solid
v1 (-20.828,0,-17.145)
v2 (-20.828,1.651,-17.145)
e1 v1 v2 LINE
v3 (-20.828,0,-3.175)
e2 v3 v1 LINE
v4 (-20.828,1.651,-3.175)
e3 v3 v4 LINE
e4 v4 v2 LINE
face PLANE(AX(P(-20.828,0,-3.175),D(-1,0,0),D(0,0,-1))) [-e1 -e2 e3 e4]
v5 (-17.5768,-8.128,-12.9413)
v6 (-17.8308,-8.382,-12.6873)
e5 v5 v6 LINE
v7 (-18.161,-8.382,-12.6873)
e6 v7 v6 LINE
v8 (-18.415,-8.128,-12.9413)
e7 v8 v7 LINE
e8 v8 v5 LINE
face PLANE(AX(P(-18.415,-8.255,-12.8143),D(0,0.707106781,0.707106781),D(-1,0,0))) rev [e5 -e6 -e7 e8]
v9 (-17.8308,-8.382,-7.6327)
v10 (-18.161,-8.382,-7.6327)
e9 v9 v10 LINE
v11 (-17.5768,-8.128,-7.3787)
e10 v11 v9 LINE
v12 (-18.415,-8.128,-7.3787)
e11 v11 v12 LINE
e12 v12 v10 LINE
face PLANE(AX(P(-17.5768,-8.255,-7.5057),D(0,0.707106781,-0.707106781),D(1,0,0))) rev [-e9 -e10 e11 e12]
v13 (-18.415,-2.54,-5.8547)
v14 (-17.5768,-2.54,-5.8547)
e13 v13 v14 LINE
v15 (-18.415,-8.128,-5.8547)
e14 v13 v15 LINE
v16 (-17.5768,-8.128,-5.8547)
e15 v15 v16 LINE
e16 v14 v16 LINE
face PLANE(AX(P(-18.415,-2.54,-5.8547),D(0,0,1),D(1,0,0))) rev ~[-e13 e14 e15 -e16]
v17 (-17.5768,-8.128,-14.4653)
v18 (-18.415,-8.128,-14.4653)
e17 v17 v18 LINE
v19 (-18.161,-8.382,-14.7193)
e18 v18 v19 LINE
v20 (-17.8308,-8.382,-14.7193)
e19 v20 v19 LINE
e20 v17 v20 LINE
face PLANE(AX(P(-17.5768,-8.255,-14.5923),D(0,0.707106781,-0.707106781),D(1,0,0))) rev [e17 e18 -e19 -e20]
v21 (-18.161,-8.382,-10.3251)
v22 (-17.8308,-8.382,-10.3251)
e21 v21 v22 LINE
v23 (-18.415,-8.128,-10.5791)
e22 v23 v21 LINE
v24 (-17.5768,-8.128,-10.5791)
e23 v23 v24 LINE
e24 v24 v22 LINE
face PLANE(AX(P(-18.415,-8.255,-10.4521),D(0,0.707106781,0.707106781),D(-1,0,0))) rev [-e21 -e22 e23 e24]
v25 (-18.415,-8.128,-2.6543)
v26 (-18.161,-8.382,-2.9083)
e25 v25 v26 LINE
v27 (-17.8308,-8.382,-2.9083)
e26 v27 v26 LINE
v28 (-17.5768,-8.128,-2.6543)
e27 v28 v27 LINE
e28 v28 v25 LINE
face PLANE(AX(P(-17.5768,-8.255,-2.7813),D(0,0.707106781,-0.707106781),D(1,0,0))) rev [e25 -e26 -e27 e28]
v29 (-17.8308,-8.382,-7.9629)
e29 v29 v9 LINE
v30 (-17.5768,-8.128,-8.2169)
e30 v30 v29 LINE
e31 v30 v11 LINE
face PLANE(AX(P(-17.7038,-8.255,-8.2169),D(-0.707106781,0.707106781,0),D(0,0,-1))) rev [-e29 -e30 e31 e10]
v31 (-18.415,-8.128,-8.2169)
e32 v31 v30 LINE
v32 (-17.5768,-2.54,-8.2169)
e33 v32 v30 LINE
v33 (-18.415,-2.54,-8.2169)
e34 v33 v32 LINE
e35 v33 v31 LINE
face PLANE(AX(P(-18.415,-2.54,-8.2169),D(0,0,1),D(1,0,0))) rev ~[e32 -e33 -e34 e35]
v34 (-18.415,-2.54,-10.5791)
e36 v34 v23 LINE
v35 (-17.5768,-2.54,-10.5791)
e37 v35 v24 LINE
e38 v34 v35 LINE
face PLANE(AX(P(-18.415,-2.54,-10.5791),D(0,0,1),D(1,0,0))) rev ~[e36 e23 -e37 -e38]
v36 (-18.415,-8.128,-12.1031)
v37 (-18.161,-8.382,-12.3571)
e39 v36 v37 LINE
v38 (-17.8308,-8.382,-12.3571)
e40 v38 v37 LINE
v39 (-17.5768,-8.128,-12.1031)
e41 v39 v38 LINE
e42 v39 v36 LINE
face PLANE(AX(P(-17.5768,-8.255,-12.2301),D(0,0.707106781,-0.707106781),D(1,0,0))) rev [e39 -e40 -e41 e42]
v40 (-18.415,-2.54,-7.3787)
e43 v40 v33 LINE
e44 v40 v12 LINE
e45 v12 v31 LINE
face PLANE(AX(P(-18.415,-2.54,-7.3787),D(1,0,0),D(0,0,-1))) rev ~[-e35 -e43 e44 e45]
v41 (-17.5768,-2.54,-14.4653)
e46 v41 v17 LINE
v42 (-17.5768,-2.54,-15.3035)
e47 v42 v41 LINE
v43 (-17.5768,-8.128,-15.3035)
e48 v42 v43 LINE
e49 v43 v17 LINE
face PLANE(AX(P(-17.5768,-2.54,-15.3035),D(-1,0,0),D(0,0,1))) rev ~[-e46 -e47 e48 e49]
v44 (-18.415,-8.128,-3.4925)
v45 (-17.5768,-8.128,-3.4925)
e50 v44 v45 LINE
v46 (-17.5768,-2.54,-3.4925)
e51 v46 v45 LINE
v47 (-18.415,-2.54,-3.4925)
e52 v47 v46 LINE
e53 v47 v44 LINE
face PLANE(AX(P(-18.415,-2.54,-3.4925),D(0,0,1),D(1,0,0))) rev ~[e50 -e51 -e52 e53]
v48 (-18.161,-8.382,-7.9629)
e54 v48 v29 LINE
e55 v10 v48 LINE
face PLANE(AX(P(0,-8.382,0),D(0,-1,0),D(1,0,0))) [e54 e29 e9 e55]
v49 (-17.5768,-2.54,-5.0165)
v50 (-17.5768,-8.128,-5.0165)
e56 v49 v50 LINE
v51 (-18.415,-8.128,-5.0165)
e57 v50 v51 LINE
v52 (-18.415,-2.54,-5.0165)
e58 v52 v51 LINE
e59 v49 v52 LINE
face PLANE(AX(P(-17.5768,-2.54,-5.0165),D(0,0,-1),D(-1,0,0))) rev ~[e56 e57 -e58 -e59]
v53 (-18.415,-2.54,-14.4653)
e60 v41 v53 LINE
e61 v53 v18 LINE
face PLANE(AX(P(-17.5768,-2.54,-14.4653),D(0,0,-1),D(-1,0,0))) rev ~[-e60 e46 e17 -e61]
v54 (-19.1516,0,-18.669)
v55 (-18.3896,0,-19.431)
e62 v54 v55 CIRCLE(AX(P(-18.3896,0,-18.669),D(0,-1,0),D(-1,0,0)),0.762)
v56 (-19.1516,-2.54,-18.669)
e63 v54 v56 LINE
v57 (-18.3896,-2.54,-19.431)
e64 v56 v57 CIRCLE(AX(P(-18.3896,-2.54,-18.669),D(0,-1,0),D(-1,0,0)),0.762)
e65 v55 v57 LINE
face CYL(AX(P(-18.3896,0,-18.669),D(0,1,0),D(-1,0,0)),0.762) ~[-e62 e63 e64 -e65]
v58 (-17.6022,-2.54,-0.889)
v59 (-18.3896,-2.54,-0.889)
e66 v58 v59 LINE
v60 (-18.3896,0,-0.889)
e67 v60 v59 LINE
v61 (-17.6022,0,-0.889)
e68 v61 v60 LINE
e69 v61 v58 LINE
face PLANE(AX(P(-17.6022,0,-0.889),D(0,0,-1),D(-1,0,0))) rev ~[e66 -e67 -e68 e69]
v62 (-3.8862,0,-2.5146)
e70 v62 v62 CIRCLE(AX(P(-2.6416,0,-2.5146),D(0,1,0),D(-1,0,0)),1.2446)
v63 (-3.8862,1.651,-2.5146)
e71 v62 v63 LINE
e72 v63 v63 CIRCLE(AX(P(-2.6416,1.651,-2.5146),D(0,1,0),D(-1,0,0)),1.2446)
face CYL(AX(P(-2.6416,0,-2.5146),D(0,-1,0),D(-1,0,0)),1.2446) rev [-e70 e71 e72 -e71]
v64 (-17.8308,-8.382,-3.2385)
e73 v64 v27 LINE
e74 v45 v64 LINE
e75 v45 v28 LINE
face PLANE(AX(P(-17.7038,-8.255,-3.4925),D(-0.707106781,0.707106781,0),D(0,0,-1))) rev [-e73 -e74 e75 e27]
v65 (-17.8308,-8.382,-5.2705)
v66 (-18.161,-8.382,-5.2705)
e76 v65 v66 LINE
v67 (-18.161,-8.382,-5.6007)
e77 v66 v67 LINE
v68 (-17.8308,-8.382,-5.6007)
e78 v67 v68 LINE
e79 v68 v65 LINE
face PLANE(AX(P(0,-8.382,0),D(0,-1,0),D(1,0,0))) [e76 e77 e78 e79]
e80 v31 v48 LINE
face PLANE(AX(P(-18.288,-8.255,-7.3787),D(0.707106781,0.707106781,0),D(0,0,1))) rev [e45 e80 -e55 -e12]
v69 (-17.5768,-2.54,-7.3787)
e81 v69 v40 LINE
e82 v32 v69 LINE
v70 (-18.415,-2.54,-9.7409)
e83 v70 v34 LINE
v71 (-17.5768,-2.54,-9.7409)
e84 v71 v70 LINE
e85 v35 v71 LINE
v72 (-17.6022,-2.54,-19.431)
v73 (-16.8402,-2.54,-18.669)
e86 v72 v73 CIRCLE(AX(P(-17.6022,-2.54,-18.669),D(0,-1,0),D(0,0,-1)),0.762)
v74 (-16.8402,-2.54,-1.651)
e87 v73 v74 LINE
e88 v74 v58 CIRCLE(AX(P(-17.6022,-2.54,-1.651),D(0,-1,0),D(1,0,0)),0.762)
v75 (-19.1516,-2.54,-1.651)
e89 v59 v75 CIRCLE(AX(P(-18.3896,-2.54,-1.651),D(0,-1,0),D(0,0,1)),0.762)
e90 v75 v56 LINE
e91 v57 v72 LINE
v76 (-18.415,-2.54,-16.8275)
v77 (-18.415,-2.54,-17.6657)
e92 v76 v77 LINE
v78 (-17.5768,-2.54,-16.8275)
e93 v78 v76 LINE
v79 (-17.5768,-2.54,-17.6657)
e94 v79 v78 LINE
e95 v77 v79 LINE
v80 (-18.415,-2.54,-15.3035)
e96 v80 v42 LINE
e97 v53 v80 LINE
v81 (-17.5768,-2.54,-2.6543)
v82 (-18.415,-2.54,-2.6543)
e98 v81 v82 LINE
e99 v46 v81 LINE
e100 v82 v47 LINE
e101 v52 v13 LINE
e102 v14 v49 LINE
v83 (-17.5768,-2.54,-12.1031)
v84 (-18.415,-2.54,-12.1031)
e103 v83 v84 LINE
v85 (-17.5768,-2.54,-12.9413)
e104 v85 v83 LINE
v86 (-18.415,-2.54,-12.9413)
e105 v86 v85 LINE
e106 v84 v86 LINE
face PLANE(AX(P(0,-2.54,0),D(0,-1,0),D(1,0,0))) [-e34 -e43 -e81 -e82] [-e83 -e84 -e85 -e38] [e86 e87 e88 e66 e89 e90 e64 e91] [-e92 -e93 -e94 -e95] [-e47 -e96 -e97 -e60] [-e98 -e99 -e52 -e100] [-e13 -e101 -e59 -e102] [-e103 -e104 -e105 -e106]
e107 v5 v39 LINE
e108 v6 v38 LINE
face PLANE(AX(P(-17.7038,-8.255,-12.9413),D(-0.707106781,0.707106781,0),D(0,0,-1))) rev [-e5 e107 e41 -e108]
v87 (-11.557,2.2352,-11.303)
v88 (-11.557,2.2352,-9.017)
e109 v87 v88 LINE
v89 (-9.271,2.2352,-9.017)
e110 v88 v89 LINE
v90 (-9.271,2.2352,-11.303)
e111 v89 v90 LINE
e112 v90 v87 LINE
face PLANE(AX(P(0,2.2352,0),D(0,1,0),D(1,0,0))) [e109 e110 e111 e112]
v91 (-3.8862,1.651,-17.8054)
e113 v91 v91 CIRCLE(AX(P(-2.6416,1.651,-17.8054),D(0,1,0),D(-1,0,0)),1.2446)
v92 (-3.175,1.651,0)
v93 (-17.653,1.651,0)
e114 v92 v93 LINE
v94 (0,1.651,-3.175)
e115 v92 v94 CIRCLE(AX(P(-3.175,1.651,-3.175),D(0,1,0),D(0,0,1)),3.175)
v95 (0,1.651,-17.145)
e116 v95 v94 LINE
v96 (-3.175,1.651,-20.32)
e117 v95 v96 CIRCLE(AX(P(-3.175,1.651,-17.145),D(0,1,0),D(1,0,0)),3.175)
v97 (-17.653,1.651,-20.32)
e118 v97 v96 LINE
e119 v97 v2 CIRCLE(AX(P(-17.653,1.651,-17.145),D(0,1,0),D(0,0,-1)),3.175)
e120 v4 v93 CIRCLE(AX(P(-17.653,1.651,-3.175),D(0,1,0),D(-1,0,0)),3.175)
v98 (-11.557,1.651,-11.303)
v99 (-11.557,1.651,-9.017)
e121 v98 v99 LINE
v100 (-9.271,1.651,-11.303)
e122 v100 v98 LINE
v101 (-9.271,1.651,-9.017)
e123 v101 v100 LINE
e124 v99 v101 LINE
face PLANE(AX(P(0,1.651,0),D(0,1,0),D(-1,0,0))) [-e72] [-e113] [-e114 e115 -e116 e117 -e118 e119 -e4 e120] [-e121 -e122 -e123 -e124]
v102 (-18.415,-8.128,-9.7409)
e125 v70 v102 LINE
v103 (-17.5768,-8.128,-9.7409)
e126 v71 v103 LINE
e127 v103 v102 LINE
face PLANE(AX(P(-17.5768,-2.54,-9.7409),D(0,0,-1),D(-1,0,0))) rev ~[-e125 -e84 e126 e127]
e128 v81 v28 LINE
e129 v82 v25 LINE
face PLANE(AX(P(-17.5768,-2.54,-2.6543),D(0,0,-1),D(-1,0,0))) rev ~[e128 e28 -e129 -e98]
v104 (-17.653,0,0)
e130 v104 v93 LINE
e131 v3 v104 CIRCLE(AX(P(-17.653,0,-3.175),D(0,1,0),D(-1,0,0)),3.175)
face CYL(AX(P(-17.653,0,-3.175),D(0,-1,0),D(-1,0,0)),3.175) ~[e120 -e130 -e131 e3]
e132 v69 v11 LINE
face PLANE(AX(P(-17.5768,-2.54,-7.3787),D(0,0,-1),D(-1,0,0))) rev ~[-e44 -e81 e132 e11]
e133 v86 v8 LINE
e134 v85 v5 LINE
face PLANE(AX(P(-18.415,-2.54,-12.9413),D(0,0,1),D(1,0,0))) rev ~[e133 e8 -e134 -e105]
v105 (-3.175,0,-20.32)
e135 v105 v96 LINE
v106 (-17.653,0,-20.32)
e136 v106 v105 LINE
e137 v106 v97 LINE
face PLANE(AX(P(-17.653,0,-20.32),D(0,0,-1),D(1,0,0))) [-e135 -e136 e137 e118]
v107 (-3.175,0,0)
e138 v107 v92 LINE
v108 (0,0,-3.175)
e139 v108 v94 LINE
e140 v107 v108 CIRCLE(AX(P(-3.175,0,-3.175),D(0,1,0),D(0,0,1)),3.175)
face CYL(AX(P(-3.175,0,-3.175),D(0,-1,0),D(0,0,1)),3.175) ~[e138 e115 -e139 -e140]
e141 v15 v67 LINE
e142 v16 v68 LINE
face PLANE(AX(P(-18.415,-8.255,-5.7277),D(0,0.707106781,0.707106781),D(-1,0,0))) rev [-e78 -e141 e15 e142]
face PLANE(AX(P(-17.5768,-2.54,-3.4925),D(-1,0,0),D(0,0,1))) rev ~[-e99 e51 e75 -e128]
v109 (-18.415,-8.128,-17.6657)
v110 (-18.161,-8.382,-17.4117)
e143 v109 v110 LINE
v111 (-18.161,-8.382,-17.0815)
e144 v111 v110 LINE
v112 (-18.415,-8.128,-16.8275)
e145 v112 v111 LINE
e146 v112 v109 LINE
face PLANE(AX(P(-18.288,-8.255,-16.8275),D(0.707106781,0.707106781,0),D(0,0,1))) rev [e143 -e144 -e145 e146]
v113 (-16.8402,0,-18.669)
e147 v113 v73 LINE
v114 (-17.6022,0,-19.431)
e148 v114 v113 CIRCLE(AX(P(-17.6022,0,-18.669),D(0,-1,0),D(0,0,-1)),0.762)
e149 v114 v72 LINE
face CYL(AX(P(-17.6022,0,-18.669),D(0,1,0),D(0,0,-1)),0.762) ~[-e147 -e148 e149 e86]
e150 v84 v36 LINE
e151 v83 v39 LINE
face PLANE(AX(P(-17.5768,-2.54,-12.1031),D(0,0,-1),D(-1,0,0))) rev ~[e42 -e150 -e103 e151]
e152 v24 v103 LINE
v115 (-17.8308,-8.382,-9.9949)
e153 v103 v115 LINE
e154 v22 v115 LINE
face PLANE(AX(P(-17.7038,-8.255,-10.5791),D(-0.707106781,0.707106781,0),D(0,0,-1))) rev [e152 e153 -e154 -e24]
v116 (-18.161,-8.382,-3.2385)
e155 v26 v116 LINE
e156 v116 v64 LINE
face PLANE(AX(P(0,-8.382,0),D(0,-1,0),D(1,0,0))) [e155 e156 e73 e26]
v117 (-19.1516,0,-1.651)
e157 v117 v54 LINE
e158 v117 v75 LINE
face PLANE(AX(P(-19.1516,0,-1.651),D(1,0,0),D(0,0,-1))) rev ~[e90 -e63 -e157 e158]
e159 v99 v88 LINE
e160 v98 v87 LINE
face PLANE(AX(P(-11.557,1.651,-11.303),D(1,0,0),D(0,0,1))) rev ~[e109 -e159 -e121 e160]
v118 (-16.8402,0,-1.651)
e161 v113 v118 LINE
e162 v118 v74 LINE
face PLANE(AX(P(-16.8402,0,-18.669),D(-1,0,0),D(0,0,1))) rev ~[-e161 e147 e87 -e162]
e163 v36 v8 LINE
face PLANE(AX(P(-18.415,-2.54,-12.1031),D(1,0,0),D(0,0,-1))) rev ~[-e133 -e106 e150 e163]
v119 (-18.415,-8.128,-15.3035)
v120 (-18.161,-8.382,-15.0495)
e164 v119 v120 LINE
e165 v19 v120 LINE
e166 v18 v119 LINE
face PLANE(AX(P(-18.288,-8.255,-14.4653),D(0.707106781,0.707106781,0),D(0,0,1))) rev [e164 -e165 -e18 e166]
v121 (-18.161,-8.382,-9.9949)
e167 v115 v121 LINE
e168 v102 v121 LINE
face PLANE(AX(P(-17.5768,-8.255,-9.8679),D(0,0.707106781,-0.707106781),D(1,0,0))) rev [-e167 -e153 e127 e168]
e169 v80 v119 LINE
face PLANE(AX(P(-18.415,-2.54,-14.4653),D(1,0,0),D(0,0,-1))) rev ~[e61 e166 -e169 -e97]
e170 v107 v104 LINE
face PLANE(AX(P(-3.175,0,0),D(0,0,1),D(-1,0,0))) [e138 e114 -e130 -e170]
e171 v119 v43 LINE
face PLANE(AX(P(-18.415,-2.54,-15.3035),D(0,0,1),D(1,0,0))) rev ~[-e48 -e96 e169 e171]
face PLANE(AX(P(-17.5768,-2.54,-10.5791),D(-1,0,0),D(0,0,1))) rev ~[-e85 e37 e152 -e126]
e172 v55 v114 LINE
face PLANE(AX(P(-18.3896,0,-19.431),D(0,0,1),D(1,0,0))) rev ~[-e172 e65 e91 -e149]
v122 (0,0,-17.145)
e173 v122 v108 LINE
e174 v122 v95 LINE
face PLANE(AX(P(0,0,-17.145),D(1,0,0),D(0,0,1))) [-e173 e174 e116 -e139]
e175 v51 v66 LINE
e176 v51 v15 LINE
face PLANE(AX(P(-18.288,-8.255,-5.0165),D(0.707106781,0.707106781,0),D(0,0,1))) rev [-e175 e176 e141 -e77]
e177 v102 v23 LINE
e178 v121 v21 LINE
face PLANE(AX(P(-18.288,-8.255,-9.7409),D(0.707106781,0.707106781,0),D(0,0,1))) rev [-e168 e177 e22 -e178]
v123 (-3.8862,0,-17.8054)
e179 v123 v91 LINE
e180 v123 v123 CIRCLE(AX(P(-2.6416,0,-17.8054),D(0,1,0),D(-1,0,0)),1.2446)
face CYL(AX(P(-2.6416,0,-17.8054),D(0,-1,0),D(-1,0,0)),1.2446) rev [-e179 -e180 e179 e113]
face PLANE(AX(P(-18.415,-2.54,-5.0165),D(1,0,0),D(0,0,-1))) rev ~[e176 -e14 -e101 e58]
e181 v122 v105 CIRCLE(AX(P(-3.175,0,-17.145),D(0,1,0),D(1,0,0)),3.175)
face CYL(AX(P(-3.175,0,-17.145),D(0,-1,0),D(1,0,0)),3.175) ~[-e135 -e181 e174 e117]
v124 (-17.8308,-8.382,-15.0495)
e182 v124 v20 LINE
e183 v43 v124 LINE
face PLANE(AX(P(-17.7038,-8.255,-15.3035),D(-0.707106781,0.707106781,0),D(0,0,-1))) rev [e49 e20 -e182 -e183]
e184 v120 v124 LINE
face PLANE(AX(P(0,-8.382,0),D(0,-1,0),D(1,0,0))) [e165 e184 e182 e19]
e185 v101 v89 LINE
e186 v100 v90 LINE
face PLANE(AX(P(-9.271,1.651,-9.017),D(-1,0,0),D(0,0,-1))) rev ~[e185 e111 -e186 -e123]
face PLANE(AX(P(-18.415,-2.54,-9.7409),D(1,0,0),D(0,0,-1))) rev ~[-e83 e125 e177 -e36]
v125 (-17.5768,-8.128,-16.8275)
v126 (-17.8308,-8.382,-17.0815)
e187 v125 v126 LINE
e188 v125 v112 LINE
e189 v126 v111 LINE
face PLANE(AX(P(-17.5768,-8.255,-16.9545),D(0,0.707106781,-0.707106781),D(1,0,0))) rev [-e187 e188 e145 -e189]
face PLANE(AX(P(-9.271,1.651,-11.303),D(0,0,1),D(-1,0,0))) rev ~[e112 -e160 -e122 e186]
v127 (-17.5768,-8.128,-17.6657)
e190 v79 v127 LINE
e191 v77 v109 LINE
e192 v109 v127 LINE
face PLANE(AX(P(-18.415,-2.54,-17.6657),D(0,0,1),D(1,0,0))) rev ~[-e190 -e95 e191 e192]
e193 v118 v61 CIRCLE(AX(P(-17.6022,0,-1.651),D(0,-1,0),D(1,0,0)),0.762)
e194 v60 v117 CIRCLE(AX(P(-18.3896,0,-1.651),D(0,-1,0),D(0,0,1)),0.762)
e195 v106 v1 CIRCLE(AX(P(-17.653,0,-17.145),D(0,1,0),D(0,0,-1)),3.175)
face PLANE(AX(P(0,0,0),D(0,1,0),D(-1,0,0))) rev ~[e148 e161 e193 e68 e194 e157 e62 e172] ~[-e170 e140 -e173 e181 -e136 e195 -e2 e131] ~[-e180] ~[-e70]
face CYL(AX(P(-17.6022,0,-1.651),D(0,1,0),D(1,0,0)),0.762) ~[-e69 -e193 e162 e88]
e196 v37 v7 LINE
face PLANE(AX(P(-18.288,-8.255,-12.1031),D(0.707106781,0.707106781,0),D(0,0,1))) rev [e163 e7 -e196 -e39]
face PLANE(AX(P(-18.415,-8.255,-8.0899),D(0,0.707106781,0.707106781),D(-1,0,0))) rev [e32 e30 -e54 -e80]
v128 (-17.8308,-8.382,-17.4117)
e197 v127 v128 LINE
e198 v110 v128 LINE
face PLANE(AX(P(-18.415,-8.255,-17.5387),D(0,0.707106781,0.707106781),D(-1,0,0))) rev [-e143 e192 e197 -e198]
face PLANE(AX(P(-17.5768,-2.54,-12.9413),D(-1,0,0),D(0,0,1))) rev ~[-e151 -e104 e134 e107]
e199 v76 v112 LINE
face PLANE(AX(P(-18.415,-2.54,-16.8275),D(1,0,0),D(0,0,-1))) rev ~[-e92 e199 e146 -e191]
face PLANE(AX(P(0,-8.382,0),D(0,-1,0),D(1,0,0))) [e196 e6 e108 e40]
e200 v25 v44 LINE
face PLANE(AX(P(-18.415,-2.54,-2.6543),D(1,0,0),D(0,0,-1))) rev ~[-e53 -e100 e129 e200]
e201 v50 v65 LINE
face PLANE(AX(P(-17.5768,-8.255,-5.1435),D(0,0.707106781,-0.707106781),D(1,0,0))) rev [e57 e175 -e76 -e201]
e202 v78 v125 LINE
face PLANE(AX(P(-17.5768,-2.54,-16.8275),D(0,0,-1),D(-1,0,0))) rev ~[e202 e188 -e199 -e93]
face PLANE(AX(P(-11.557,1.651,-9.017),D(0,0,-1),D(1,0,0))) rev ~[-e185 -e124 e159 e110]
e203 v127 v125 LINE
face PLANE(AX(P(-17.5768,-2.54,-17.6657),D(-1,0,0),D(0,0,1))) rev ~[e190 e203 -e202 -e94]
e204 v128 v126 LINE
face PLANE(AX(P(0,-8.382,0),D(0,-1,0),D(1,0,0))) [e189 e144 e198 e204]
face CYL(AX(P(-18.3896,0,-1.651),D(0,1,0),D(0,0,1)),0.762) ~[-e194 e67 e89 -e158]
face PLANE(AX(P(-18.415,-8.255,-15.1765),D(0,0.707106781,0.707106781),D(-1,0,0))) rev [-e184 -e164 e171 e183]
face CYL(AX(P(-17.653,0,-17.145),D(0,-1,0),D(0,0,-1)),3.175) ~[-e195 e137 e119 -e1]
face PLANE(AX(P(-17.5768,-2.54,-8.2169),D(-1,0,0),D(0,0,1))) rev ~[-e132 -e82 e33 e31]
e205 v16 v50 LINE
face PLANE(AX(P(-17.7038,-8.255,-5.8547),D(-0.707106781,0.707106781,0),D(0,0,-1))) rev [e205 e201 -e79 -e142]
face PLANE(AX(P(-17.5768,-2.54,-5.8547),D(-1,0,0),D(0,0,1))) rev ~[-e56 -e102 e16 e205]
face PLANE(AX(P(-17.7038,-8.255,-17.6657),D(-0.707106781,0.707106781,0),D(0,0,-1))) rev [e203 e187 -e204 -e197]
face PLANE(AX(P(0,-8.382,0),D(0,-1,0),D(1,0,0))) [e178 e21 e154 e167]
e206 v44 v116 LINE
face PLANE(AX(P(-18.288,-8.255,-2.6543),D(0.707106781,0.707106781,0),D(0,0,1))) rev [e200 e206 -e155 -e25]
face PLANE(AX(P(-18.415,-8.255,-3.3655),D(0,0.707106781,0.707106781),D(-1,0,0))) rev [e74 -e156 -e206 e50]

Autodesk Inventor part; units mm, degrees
ref_plane "YZ Plane" through (0, 0, 0) normal (1, 0, 0) x (0, 1, 0)
ref_plane "XZ Plane" through (0, 0, 0) normal (0, 1, 0) x (-1, 0, 0)
ref_plane "XY Plane" through (0, 0, 0) normal (0, 0, 1) x (1, 0, 0)
sketch "Sketch1" plane through (0, 0, 0) normal (0, 1, 0) x (-1, 0, 0)
  line L0 (3.175, 0) -> (17.653, 0)
  line L1 (20.828, -3.175) -> (20.828, -17.145)
  line L2 (17.653, -20.32) -> (3.175, -20.32)
  line L3 (0, -17.145) -> (0, -3.175)
  circle A0 centre (2.6416, -2.5146) radius 1.2446
  circle A1 centre (2.6416, -17.8054) radius 1.2446
  line L4 (1.397, -2.5146) -> (0, -2.5146) construction
  line L5 (2.6416, -1.27) -> (2.6416, 0) construction
  line L6 (1.397, -17.8054) -> (0, -17.8054) construction
  line L7 (2.6416, -19.05) -> (2.6416, -20.32) construction
  arc A2 (0, -17.145) -> (3.175, -20.32) centre (3.175, -17.145) ccw
  arc A3 (3.175, 0) -> (0, -3.175) centre (3.175, -3.175) ccw
  arc A4 (20.828, -3.175) -> (17.653, 0) centre (17.653, -3.175) ccw
  arc A5 (17.653, -20.32) -> (20.828, -17.145) centre (17.653, -17.145) ccw
  point P0 (0, 0)
  point P1 (20.828, -20.32)
  point P2 (20.828, 0)
  point P3 (0, -20.32)
  dimension "d0" = 20.32
  dimension "d1" = 20.828
  dimension "d2" = 2.4892
  dimension "d3" = 2.4892
  dimension "d4" = 1.397
  dimension "d5" = 1.27
  dimension "d6" = 1.27
  dimension "d7" = 1.397
  dimension "d8" = 3.175
extrude "Extrusion1" add sketch "Sketch1" along normal blind 1.651
sketch "Sketch2" plane through (0, 1.651, 0) normal (0, 1, 0) x (1, 0, 0)
  line L0 (-11.557, 9.017) -> (-9.271, 9.017)
  line L1 (-9.271, 9.017) -> (-9.271, 11.303)
  line L2 (-9.271, 11.303) -> (-11.557, 11.303)
  line L3 (-11.557, 11.303) -> (-11.557, 9.017)
  line L4 (-11.557, 10.16) -> (-9.271, 10.16) construction
  line L5 (-10.414, 9.017) -> (-10.414, 11.303) construction
  line L6 (-3.175, 20.32) -> (-17.653, 20.32) projected
  line L7 (-20.828, 17.145) -> (-20.828, 3.175) projected
  point P0 (0, 0)
  point P1 (-10.414, 20.32)
  point P2 (-20.828, 10.16)
  dimension "d11" = 2.286
  dimension "d12" = 2.286
extrude "Extrusion2" add sketch "Sketch2" along normal blind 0.5842
sketch "Sketch3" plane through (0, 0, 0) normal (0, -1, 0) x (1, 0, 0)
  line L0 (-18.3896, -19.431) -> (-17.6022, -19.431)
  line L1 (-16.8402, -18.669) -> (-16.8402, -1.651)
  line L2 (-17.6022, -0.889) -> (-18.3896, -0.889)
  line L3 (-19.1516, -1.651) -> (-19.1516, -18.669)
  line L4 (-17.653, -20.32) -> (-3.175, -20.32) projected
  line L5 (-3.175, 0) -> (-17.653, 0) projected
  line L6 (-20.828, -3.175) -> (-20.828, -17.145) projected
  arc A0 (-19.1516, -18.669) -> (-18.3896, -19.431) centre (-18.3896, -18.669) ccw
  arc A1 (-18.3896, -0.889) -> (-19.1516, -1.651) centre (-18.3896, -1.651) ccw
  arc A2 (-16.8402, -1.651) -> (-17.6022, -0.889) centre (-17.6022, -1.651) ccw
  arc A3 (-17.6022, -19.431) -> (-16.8402, -18.669) centre (-17.6022, -18.669) ccw
  point P0 (0, 0)
  dimension "d15" = 0.889
  dimension "d16" = 0.889
  dimension "d17" = 3.9878
  dimension "d18" = 1.6764
  dimension "d19" = 0.762
extrude "Extrusion3" add sketch "Sketch3" along normal blind 2.54
sketch "Sketch4" plane through (0, -2.54, 0) normal (0, -1, 0) x (1, 0, 0)
  line L0 (-18.415, -17.6657) -> (-17.5768, -17.6657)
  line L1 (-17.5768, -17.6657) -> (-17.5768, -16.8275)
  line L2 (-17.5768, -16.8275) -> (-18.415, -16.8275)
  line L3 (-18.415, -16.8275) -> (-18.415, -17.6657)
  line L4 (-17.9959, -17.6657) -> (-17.9959, -16.8275) construction
  line L5 (-18.3896, -19.431) -> (-17.6022, -19.431) projected
  line L6 (-18.415, -15.3035) -> (-17.5768, -15.3035)
  line L7 (-17.5768, -15.3035) -> (-17.5768, -14.4653)
  line L8 (-17.5768, -14.4653) -> (-18.415, -14.4653)
  line L9 (-18.415, -14.4653) -> (-18.415, -15.3035)
  line L10 (-17.9959, -15.3035) -> (-17.9959, -14.4653) construction
  line L11 (-18.415, -12.9413) -> (-17.5768, -12.9413)
  line L12 (-17.5768, -12.9413) -> (-17.5768, -12.1031)
  line L13 (-17.5768, -12.1031) -> (-18.415, -12.1031)
  line L14 (-18.415, -12.1031) -> (-18.415, -12.9413)
  line L15 (-17.9959, -12.9413) -> (-17.9959, -12.1031) construction
  line L16 (-18.415, -10.5791) -> (-17.5768, -10.5791)
  line L17 (-17.5768, -10.5791) -> (-17.5768, -9.7409)
  line L18 (-17.5768, -9.7409) -> (-18.415, -9.7409)
  line L19 (-18.415, -9.7409) -> (-18.415, -10.5791)
  line L20 (-17.9959, -10.5791) -> (-17.9959, -9.7409) construction
  line L21 (-18.415, -8.2169) -> (-17.5768, -8.2169)
  line L22 (-17.5768, -8.2169) -> (-17.5768, -7.3787)
  line L23 (-17.5768, -7.3787) -> (-18.415, -7.3787)
  line L24 (-18.415, -7.3787) -> (-18.415, -8.2169)
  line L25 (-17.9959, -8.2169) -> (-17.9959, -7.3787) construction
  line L26 (-18.415, -5.8547) -> (-17.5768, -5.8547)
  line L27 (-17.5768, -5.8547) -> (-17.5768, -5.0165)
  line L28 (-17.5768, -5.0165) -> (-18.415, -5.0165)
  line L29 (-18.415, -5.0165) -> (-18.415, -5.8547)
  line L30 (-17.9959, -5.8547) -> (-17.9959, -5.0165) construction
  line L31 (-18.415, -3.4925) -> (-17.5768, -3.4925)
  line L32 (-17.5768, -3.4925) -> (-17.5768, -2.6543)
  line L33 (-17.5768, -2.6543) -> (-18.415, -2.6543)
  line L34 (-18.415, -2.6543) -> (-18.415, -3.4925)
  line L35 (-17.9959, -3.4925) -> (-17.9959, -2.6543) construction
  line L36 (-18.415, -10.16) -> (-17.5768, -10.16) construction
  line L37 (-19.1516, -1.651) -> (-19.1516, -18.669) projected
  point P0 (0, 0)
  point P1 (-17.9959, -19.431)
  point P2 (-17.9959, -17.0688)
  point P3 (-17.9959, -14.7066)
  point P4 (-17.9959, -12.3444)
  point P5 (-17.9959, -9.9822)
  point P6 (-17.9959, -7.62)
  point P7 (-17.9959, -5.2578)
  point P8 (-19.1516, -10.16)
  dimension "d22" = 0.8382
  dimension "d23" = 0.8382
  dimension "d26" = 2.3622
extrude "Extrusion4" add sketch "Sketch4" along normal blind 5.842
chamfer "Chamfer1" distance 0.254 angle 45 28 edges at (-18.415, -8.382, -17.2466) (-17.9959, -8.382, -17.6657) (-17.5768, -8.382, -17.2466) (-17.9959, -8.382, -16.8275) (-18.415, -8.382, -14.8844) (-17.9959, -8.382, -15.3035) (-17.5768, -8.382, -14.8844) (-17.9959, -8.382, -14.4653) (-17.9959, -8.382, -12.9413) (-18.415, -8.382, -12.5222) (-17.9959, -8.382, -12.1031) (-17.5768, -8.382, -12.5222) (-17.5768, -8.382, -10.16) (-17.9959, -8.382, -9.7409) (-18.415, -8.382, -10.16) (-17.9959, -8.382, -10.5791) (-17.9959, -8.382, -8.2169) (-18.415, -8.382, -7.7978) (-17.9959, -8.382, -7.3787) (-17.5768, -8.382, -7.7978) (-18.415, -8.382, -5.4356) (-17.9959, -8.382, -5.0165) (-17.5768, -8.382, -5.4356) (-17.9959, -8.382, -5.8547) (-17.9959, -8.382, -3.4925) (-18.415, -8.382, -3.0734) (-17.9959, -8.382, -2.6543) (-17.5768, -8.382, -3.0734)
equation "\"d3\" = d2"
equation "\"d6\" = d5"
equation "\"d7\" = d4"
properties part number "Adafruit TMP007 IR Sensor"
